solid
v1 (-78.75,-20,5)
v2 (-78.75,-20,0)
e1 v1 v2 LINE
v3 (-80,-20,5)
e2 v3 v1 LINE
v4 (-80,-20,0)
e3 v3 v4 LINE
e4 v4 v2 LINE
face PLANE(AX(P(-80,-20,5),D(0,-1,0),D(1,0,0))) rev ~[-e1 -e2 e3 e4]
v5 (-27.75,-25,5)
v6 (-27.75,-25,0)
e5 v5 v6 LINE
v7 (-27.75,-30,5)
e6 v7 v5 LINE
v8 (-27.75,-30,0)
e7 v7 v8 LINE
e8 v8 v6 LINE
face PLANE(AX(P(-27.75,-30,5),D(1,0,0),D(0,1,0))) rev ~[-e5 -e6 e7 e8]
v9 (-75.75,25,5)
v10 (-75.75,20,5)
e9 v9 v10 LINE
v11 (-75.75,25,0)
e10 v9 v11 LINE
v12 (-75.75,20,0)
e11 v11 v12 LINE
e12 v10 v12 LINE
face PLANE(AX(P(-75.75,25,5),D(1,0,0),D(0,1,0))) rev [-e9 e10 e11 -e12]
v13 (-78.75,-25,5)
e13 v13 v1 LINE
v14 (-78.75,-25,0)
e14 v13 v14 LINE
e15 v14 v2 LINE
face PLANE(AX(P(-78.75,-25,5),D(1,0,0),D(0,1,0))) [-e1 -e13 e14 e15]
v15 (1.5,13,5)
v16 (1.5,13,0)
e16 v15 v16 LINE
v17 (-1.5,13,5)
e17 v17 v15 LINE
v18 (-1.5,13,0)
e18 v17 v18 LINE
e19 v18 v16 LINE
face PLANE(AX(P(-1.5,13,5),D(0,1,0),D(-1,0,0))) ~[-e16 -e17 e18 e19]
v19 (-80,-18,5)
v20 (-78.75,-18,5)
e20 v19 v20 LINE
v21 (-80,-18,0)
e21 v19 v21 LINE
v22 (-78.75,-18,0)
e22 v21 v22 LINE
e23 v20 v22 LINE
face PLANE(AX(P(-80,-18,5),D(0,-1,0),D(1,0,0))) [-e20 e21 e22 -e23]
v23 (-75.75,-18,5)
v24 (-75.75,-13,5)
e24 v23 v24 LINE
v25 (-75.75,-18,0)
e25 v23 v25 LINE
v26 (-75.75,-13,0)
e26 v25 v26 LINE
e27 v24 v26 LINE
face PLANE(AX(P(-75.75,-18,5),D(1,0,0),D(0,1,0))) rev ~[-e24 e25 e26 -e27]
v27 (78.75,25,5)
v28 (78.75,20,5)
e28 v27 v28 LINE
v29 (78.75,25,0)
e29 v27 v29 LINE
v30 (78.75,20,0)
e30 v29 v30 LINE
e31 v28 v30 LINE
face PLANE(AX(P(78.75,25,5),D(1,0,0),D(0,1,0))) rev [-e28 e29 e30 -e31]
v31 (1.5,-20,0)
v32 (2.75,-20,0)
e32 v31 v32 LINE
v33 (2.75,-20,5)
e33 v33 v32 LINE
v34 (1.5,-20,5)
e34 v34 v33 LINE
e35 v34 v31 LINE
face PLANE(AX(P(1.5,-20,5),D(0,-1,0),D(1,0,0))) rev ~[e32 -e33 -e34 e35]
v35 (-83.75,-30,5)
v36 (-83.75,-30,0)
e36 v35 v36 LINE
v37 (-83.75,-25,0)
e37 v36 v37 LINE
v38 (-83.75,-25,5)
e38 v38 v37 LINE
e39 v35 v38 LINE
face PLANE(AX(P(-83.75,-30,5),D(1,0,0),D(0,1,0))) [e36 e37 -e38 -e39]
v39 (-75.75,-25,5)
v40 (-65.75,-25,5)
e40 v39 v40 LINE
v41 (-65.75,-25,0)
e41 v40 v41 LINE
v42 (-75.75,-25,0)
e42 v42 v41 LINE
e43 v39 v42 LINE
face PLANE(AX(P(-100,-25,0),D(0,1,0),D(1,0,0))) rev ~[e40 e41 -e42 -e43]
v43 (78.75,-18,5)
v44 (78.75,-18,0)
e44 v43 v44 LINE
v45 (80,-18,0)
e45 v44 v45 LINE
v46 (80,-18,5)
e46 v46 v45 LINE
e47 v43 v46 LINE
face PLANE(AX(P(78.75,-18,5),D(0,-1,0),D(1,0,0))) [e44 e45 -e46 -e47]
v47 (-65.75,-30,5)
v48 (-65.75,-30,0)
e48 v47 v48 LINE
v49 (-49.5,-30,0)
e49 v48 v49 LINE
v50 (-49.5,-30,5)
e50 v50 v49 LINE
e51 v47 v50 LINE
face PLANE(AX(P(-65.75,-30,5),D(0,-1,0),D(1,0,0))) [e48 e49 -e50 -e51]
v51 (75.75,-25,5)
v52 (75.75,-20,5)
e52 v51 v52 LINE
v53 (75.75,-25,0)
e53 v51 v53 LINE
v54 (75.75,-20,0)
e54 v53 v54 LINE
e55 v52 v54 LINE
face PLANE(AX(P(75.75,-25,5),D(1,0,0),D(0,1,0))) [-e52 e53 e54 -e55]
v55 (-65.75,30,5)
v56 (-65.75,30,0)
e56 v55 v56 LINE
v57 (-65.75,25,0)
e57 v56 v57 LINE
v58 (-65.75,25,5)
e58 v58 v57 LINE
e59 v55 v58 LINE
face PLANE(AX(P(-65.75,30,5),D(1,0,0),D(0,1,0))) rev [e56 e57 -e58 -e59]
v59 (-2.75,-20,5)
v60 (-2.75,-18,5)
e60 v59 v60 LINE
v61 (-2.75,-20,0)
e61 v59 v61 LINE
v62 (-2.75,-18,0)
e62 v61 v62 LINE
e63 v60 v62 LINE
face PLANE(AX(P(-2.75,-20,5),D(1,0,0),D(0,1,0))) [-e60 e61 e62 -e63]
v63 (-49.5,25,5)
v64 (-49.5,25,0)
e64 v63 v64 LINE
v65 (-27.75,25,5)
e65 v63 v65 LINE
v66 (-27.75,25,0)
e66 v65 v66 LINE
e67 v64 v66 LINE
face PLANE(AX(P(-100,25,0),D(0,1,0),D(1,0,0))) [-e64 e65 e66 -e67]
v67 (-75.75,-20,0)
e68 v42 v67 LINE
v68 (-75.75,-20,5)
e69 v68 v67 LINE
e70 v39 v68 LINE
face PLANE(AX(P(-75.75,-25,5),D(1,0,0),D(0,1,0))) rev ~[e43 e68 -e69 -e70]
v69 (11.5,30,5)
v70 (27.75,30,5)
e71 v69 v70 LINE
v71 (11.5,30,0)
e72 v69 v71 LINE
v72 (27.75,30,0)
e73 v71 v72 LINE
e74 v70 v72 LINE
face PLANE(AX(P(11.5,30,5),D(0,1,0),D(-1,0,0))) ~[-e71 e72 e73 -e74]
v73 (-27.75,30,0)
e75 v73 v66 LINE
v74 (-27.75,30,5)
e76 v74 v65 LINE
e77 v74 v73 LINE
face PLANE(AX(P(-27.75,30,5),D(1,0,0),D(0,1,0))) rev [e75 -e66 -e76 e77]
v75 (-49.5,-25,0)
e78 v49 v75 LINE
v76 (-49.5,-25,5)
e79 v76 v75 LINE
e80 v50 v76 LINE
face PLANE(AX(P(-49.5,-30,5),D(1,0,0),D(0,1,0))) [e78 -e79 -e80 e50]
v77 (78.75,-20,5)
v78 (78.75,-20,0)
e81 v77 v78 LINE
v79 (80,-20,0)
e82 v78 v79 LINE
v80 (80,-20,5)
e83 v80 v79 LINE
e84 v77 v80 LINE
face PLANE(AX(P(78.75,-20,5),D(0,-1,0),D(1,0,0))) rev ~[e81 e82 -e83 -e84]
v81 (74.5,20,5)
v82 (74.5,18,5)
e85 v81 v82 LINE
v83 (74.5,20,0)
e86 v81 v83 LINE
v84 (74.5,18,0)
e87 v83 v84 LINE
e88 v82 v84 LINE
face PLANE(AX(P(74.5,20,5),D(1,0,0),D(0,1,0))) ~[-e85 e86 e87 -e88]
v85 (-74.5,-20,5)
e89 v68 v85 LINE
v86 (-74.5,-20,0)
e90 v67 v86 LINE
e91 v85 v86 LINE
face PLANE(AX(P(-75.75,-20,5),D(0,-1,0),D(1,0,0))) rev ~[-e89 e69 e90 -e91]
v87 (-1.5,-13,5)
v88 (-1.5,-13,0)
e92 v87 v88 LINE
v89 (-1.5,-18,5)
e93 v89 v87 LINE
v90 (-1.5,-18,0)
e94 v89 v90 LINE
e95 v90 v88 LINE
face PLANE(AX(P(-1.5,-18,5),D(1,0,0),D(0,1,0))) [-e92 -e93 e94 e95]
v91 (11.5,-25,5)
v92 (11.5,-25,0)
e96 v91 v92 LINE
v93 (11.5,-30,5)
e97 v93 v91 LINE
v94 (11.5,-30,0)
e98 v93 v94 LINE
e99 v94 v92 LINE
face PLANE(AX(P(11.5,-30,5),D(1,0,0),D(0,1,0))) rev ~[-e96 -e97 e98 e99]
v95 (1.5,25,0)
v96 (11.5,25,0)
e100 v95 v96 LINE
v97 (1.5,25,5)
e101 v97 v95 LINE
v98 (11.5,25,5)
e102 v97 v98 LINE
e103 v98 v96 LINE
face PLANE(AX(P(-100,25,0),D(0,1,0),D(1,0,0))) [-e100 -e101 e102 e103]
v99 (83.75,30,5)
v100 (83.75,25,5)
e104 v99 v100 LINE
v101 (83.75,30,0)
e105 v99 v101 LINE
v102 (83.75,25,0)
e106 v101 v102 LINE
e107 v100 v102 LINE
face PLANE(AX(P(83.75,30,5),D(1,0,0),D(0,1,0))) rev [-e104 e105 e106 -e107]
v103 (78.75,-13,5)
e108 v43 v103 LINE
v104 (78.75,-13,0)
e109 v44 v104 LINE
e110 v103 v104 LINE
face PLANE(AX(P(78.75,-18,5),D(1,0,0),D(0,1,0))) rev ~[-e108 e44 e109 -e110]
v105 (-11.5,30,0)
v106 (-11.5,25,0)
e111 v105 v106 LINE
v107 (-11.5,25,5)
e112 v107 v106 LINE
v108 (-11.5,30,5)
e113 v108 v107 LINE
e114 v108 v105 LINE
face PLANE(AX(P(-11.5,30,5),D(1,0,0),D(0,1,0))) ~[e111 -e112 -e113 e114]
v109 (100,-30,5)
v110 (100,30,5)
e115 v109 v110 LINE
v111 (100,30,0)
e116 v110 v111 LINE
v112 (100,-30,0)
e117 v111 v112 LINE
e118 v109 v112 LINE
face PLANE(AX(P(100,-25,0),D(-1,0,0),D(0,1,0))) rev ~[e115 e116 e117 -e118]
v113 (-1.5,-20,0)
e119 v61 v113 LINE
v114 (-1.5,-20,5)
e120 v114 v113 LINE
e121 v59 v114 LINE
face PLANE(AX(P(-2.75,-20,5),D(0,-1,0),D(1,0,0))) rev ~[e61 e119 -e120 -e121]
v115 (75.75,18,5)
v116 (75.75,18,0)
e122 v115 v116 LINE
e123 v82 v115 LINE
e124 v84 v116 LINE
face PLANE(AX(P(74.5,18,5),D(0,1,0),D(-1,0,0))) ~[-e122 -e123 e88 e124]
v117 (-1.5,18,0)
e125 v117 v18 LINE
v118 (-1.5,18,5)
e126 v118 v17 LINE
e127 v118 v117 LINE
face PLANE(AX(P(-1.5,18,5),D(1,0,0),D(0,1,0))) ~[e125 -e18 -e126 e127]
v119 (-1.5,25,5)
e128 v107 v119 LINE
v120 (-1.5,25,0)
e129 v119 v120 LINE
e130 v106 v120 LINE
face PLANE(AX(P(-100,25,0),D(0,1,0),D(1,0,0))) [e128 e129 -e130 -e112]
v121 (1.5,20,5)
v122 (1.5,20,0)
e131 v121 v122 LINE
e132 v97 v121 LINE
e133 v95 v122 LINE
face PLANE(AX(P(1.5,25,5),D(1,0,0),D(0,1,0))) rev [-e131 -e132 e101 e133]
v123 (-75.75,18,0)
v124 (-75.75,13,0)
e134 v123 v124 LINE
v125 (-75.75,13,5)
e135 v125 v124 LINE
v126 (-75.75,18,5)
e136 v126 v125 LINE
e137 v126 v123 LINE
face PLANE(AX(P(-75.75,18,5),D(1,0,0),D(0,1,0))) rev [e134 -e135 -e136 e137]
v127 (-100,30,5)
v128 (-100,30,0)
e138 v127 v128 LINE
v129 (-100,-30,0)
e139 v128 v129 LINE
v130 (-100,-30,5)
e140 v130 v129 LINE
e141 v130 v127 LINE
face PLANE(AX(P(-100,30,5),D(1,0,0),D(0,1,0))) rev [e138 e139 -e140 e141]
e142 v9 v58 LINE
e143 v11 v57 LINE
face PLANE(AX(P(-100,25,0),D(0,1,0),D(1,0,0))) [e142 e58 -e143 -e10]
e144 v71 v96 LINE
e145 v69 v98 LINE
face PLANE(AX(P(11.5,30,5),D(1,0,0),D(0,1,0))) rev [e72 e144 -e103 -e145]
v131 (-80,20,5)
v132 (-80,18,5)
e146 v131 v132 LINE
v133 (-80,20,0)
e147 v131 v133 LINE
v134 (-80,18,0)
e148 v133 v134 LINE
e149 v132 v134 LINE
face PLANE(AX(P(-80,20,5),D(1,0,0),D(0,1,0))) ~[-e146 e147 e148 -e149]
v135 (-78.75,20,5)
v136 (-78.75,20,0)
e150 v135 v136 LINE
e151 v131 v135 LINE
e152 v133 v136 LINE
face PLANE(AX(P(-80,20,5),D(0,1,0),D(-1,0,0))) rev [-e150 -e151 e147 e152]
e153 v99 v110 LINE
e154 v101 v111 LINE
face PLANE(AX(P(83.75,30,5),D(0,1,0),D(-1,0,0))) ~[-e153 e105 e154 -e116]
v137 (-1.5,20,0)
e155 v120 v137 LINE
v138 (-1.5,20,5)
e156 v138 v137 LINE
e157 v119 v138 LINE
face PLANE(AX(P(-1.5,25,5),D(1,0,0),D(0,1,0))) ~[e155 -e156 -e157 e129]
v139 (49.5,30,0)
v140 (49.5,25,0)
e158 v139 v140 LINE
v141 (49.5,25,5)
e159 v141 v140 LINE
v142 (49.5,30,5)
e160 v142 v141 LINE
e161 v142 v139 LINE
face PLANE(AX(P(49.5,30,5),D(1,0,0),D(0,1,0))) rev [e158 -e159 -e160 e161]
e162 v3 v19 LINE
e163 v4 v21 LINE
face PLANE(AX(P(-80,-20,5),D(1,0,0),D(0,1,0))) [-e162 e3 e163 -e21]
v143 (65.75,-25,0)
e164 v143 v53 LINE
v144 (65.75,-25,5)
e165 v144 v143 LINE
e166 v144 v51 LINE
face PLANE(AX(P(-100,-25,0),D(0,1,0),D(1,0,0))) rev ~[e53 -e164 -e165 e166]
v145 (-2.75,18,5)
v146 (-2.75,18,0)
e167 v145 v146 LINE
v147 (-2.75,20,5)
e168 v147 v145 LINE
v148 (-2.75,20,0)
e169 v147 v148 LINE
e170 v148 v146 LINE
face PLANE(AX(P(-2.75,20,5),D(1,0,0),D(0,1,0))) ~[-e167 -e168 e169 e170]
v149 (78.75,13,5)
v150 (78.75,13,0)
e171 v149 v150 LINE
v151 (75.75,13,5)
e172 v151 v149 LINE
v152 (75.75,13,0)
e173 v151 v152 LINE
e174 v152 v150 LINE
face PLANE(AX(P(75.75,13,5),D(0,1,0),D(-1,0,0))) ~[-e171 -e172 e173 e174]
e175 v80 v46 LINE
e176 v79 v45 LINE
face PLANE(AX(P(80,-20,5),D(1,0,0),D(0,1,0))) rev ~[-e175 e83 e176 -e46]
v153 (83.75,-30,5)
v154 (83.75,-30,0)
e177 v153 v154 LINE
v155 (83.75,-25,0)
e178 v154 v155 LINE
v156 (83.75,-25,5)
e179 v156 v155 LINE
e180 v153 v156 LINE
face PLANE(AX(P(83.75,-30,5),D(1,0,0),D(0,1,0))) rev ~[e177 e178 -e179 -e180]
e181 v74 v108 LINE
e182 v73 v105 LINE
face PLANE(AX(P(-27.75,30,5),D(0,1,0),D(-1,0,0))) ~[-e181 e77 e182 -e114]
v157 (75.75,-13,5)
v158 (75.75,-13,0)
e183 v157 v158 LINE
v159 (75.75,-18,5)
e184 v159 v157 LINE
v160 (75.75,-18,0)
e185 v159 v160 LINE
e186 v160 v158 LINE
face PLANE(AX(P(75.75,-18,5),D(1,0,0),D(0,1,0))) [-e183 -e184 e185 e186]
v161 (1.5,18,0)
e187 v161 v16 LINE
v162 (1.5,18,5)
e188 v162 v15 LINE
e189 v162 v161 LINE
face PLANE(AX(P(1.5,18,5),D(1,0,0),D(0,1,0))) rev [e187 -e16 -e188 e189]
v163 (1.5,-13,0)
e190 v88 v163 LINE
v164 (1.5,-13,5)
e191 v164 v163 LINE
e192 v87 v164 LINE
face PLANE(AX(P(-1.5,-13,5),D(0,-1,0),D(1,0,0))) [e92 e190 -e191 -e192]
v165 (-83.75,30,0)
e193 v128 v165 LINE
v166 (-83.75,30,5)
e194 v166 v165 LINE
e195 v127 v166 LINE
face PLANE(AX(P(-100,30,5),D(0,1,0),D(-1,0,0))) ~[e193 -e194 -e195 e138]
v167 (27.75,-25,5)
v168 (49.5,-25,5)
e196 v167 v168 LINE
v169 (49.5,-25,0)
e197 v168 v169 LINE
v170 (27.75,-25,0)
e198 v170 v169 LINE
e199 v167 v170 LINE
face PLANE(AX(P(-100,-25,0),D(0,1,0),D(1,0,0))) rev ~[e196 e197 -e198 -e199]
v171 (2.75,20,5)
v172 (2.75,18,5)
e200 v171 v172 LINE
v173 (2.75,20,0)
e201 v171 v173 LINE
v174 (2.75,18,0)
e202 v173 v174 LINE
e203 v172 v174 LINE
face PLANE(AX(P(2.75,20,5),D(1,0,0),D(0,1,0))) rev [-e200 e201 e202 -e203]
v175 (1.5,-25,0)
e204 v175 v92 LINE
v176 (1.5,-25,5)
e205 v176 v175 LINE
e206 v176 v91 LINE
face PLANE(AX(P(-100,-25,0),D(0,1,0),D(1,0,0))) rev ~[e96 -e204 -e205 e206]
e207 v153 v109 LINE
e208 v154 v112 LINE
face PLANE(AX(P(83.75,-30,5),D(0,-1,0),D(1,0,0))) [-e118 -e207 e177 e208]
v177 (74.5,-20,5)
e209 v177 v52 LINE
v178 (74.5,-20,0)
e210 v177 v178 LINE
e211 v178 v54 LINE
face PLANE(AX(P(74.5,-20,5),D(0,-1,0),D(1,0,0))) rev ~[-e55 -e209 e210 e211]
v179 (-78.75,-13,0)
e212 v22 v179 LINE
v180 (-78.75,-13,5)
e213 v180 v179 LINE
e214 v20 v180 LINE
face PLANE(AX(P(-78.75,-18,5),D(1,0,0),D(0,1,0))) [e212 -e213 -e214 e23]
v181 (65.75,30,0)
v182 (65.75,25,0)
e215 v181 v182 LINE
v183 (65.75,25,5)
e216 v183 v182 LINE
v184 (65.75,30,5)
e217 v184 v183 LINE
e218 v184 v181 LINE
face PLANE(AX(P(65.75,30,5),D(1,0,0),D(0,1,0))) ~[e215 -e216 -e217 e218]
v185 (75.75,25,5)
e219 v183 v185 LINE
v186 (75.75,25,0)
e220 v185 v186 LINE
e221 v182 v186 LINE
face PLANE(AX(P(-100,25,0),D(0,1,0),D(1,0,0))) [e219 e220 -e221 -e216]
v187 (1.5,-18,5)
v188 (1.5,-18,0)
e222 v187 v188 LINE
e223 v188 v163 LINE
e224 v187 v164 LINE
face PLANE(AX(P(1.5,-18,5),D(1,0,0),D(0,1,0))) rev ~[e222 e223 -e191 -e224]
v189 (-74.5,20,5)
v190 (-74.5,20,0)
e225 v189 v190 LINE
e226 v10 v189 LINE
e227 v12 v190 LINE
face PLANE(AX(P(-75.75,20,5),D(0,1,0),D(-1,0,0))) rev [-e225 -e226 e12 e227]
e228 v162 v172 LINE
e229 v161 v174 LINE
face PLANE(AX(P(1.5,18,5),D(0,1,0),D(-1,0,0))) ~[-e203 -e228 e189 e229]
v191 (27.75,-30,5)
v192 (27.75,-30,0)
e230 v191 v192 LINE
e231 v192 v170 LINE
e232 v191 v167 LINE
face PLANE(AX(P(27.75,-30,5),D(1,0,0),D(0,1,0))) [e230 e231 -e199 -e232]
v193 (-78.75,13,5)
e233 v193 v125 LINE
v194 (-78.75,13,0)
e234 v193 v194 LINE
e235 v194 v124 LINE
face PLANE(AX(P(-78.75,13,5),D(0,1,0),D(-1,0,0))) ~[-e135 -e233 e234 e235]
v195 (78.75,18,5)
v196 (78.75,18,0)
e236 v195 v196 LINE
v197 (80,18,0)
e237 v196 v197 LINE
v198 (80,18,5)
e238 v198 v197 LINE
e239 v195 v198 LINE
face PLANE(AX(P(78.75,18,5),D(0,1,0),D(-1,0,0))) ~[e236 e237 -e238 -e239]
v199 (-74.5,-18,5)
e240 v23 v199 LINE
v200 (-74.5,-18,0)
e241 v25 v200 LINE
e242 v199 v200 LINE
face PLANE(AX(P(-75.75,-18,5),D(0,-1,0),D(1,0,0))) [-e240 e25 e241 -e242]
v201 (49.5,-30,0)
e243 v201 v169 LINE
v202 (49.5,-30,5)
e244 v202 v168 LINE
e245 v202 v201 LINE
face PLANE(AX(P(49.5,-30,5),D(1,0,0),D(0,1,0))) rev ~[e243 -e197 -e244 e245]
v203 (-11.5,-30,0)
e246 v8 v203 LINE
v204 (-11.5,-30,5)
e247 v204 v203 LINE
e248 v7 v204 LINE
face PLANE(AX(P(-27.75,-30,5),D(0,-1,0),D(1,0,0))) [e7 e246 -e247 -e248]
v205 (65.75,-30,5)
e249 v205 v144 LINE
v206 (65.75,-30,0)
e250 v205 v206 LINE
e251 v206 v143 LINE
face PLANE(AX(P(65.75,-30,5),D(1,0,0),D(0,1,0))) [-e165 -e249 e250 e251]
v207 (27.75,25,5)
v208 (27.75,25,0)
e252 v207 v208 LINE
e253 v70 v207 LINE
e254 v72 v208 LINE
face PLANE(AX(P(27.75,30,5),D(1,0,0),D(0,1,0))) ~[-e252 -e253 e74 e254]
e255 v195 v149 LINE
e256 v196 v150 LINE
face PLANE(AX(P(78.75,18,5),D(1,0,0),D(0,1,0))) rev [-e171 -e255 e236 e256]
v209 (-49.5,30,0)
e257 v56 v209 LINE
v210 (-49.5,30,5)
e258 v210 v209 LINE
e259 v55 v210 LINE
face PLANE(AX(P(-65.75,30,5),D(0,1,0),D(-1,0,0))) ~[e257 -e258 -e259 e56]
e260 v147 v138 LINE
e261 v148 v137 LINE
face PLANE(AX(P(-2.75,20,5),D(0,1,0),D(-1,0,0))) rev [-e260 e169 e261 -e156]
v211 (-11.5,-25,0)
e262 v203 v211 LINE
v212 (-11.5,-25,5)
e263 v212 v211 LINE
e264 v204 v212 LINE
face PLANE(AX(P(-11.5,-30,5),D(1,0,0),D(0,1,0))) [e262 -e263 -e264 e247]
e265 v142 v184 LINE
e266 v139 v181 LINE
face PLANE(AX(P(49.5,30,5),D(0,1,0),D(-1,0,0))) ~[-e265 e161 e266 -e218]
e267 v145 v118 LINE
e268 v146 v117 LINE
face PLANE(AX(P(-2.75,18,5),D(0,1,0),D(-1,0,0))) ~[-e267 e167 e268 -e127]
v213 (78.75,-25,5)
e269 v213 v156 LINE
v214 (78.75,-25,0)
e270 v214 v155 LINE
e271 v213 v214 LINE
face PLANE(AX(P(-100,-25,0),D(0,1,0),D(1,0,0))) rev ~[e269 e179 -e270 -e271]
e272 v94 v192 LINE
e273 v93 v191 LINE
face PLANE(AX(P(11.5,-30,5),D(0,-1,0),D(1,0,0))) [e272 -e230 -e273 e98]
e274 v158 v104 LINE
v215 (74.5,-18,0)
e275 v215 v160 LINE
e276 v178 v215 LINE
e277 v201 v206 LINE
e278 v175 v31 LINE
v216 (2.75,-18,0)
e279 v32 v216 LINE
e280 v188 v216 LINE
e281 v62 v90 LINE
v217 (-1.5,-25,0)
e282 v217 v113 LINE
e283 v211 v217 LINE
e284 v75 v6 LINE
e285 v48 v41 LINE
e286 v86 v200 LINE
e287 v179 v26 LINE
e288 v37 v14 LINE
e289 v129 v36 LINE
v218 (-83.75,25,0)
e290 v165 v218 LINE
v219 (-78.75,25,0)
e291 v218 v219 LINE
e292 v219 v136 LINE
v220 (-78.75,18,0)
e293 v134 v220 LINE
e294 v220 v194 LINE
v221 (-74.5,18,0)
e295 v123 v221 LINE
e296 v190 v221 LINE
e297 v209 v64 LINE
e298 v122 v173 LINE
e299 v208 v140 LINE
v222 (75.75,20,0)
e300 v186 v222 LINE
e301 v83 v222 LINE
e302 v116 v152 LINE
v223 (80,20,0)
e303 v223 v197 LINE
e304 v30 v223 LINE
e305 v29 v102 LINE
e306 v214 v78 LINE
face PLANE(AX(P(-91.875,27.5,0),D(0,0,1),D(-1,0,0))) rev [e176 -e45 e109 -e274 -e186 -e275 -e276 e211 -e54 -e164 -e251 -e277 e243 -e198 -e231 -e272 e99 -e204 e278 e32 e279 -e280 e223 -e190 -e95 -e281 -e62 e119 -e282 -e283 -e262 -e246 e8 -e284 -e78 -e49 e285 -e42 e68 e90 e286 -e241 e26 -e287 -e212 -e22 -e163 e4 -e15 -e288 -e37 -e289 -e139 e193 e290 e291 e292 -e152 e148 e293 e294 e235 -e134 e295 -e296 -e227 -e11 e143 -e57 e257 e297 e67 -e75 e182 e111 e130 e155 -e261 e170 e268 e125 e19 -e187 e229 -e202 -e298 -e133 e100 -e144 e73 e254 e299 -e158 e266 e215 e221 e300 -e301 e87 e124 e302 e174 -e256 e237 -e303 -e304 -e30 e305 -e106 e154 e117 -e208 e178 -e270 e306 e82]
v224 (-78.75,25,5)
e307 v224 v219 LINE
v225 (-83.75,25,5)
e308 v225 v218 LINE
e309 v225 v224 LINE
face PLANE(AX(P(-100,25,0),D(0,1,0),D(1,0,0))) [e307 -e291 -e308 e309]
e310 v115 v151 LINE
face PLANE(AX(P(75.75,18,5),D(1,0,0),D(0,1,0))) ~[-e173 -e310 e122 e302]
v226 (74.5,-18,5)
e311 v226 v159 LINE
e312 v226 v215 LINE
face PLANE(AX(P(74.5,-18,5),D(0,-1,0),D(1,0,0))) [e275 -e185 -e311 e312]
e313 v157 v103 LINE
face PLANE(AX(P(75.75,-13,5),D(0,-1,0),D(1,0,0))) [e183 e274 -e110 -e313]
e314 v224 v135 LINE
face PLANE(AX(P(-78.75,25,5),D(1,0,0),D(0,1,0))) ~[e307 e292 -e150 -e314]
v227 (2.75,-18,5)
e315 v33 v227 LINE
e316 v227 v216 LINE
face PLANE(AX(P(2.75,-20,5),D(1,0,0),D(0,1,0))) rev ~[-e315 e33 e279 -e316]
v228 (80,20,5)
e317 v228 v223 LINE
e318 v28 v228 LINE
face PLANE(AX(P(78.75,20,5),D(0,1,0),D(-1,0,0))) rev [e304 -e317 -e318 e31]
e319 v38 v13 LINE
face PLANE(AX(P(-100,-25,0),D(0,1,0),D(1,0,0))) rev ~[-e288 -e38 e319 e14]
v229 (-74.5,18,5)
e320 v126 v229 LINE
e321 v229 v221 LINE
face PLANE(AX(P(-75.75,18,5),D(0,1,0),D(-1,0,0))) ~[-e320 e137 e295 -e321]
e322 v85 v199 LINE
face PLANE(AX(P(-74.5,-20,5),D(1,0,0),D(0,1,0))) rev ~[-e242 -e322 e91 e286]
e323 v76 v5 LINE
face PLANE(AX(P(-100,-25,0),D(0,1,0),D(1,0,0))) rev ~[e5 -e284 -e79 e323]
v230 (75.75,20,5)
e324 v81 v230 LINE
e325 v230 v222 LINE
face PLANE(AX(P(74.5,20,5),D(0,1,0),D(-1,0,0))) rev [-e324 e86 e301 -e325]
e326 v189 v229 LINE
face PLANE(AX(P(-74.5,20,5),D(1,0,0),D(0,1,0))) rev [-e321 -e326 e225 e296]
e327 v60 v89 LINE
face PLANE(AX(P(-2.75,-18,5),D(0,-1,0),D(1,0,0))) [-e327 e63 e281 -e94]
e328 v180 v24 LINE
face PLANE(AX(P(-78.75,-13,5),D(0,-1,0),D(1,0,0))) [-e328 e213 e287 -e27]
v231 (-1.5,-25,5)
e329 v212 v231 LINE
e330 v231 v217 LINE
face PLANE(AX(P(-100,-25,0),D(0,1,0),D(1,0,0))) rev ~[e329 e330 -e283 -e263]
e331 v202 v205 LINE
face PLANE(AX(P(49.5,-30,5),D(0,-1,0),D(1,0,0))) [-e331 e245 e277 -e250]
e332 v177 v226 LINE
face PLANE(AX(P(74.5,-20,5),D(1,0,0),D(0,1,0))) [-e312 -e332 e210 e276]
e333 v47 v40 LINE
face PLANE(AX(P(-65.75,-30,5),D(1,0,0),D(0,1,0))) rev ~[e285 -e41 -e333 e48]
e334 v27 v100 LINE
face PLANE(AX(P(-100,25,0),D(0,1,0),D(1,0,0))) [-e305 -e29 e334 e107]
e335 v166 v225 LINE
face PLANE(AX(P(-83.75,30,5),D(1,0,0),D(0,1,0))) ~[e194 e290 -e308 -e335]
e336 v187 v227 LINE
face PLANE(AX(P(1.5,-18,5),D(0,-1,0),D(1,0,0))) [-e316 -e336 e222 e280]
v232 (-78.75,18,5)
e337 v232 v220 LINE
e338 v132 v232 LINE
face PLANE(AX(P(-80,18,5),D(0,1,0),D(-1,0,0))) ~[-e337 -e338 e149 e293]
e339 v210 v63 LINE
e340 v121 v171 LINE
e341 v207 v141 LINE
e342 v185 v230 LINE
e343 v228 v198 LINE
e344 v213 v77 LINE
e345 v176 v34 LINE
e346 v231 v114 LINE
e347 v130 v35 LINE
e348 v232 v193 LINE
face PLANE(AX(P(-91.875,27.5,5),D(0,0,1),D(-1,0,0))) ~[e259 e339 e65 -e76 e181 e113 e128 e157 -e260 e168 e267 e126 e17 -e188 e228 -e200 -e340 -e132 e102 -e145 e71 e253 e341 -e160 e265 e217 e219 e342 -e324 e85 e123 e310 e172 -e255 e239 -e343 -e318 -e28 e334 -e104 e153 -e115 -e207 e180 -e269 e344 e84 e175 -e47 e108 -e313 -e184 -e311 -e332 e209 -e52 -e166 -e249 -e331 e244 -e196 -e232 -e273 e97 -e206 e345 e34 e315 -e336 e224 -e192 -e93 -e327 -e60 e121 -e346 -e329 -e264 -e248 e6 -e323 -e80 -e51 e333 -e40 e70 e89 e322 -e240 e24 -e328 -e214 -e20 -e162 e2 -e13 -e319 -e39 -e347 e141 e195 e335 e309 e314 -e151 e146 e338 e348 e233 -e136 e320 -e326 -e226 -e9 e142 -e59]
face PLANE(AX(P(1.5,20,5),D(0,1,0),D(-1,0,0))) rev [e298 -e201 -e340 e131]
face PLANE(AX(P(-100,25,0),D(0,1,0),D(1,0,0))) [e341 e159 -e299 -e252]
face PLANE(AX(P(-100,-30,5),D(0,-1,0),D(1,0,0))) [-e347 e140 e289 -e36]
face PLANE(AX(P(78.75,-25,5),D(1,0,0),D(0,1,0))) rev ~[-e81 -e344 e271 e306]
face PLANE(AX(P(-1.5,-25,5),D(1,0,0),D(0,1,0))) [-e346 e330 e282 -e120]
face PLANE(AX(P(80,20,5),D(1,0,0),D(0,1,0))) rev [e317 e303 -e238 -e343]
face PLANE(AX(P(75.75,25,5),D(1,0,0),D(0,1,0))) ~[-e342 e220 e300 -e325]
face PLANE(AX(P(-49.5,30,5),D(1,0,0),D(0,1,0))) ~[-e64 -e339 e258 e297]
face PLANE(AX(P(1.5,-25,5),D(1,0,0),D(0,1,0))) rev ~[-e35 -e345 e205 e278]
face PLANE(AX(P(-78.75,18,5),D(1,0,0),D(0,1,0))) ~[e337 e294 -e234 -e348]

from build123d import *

# Parameters (mm, degrees)
SKETCH1_W           = 200
SKETCH1_H           = 50
BOSS_EXTRUDE1_DEPTH = 5
SKETCH2_W           = 5.5
SKETCH2_H           = 2
SKETCH2_W_2         = 3
SKETCH2_H_2         = 12
CUT_EXTRUDE1_DEPTH  = 5
SKETCH3_W           = 16.25
SKETCH3_H           = 5
BOSS_EXTRUDE2_DEPTH = 5


with BuildPart() as part:
    # Sketch1 → Boss-Extrude1 (new body)
    with BuildSketch(Plane.XY):
        Rectangle(SKETCH1_W, SKETCH1_H)
    extrude(amount=BOSS_EXTRUDE1_DEPTH)

    # Sketch2 → Cut-Extrude1 (cut)
    with BuildSketch(Plane.XY.offset(5)):
        with Locations((-77.25, -19)):
            Rectangle(SKETCH2_W, SKETCH2_H)
        with Locations((-77.25, -19)):
            Rectangle(SKETCH2_W_2, SKETCH2_H_2)
        with Locations((0, -19)):
            Rectangle(SKETCH2_W, SKETCH2_H)
        with Locations((0, -19)):
            Rectangle(SKETCH2_W_2, SKETCH2_H_2)
        with Locations((77.25, -19)):
            Rectangle(SKETCH2_W, SKETCH2_H)
        with Locations((77.25, -19)):
            Rectangle(SKETCH2_W_2, SKETCH2_H_2)
    cut_extrude1 = extrude(amount=-CUT_EXTRUDE1_DEPTH, mode=Mode.SUBTRACT)

    # Sketch3 → Boss-Extrude2 (add)
    with BuildSketch(Plane.XY.offset(5)):
        with Locations((-91.875, -27.5)):
            Rectangle(SKETCH3_W, SKETCH3_H)
        with Locations((-19.625, -27.5)):
            Rectangle(SKETCH3_W, SKETCH3_H)
        with Locations((19.625, -27.5)):
            Rectangle(SKETCH3_W, SKETCH3_H)
        with Locations((57.625, -27.5)):
            Rectangle(SKETCH3_W, SKETCH3_H)
        with Locations((91.875, -27.5)):
            Rectangle(SKETCH3_W, SKETCH3_H)
        with Locations((-57.625, -27.5)):
            Rectangle(SKETCH3_W, SKETCH3_H)
    boss_extrude2 = extrude(amount=-BOSS_EXTRUDE2_DEPTH)

    # Mirror1: Cut-Extrude1, Boss-Extrude2 across plane
    add(cut_extrude1.mirror(Plane.ZX), mode=Mode.SUBTRACT)
    add(boss_extrude2.mirror(Plane.ZX))


solid = part.part
